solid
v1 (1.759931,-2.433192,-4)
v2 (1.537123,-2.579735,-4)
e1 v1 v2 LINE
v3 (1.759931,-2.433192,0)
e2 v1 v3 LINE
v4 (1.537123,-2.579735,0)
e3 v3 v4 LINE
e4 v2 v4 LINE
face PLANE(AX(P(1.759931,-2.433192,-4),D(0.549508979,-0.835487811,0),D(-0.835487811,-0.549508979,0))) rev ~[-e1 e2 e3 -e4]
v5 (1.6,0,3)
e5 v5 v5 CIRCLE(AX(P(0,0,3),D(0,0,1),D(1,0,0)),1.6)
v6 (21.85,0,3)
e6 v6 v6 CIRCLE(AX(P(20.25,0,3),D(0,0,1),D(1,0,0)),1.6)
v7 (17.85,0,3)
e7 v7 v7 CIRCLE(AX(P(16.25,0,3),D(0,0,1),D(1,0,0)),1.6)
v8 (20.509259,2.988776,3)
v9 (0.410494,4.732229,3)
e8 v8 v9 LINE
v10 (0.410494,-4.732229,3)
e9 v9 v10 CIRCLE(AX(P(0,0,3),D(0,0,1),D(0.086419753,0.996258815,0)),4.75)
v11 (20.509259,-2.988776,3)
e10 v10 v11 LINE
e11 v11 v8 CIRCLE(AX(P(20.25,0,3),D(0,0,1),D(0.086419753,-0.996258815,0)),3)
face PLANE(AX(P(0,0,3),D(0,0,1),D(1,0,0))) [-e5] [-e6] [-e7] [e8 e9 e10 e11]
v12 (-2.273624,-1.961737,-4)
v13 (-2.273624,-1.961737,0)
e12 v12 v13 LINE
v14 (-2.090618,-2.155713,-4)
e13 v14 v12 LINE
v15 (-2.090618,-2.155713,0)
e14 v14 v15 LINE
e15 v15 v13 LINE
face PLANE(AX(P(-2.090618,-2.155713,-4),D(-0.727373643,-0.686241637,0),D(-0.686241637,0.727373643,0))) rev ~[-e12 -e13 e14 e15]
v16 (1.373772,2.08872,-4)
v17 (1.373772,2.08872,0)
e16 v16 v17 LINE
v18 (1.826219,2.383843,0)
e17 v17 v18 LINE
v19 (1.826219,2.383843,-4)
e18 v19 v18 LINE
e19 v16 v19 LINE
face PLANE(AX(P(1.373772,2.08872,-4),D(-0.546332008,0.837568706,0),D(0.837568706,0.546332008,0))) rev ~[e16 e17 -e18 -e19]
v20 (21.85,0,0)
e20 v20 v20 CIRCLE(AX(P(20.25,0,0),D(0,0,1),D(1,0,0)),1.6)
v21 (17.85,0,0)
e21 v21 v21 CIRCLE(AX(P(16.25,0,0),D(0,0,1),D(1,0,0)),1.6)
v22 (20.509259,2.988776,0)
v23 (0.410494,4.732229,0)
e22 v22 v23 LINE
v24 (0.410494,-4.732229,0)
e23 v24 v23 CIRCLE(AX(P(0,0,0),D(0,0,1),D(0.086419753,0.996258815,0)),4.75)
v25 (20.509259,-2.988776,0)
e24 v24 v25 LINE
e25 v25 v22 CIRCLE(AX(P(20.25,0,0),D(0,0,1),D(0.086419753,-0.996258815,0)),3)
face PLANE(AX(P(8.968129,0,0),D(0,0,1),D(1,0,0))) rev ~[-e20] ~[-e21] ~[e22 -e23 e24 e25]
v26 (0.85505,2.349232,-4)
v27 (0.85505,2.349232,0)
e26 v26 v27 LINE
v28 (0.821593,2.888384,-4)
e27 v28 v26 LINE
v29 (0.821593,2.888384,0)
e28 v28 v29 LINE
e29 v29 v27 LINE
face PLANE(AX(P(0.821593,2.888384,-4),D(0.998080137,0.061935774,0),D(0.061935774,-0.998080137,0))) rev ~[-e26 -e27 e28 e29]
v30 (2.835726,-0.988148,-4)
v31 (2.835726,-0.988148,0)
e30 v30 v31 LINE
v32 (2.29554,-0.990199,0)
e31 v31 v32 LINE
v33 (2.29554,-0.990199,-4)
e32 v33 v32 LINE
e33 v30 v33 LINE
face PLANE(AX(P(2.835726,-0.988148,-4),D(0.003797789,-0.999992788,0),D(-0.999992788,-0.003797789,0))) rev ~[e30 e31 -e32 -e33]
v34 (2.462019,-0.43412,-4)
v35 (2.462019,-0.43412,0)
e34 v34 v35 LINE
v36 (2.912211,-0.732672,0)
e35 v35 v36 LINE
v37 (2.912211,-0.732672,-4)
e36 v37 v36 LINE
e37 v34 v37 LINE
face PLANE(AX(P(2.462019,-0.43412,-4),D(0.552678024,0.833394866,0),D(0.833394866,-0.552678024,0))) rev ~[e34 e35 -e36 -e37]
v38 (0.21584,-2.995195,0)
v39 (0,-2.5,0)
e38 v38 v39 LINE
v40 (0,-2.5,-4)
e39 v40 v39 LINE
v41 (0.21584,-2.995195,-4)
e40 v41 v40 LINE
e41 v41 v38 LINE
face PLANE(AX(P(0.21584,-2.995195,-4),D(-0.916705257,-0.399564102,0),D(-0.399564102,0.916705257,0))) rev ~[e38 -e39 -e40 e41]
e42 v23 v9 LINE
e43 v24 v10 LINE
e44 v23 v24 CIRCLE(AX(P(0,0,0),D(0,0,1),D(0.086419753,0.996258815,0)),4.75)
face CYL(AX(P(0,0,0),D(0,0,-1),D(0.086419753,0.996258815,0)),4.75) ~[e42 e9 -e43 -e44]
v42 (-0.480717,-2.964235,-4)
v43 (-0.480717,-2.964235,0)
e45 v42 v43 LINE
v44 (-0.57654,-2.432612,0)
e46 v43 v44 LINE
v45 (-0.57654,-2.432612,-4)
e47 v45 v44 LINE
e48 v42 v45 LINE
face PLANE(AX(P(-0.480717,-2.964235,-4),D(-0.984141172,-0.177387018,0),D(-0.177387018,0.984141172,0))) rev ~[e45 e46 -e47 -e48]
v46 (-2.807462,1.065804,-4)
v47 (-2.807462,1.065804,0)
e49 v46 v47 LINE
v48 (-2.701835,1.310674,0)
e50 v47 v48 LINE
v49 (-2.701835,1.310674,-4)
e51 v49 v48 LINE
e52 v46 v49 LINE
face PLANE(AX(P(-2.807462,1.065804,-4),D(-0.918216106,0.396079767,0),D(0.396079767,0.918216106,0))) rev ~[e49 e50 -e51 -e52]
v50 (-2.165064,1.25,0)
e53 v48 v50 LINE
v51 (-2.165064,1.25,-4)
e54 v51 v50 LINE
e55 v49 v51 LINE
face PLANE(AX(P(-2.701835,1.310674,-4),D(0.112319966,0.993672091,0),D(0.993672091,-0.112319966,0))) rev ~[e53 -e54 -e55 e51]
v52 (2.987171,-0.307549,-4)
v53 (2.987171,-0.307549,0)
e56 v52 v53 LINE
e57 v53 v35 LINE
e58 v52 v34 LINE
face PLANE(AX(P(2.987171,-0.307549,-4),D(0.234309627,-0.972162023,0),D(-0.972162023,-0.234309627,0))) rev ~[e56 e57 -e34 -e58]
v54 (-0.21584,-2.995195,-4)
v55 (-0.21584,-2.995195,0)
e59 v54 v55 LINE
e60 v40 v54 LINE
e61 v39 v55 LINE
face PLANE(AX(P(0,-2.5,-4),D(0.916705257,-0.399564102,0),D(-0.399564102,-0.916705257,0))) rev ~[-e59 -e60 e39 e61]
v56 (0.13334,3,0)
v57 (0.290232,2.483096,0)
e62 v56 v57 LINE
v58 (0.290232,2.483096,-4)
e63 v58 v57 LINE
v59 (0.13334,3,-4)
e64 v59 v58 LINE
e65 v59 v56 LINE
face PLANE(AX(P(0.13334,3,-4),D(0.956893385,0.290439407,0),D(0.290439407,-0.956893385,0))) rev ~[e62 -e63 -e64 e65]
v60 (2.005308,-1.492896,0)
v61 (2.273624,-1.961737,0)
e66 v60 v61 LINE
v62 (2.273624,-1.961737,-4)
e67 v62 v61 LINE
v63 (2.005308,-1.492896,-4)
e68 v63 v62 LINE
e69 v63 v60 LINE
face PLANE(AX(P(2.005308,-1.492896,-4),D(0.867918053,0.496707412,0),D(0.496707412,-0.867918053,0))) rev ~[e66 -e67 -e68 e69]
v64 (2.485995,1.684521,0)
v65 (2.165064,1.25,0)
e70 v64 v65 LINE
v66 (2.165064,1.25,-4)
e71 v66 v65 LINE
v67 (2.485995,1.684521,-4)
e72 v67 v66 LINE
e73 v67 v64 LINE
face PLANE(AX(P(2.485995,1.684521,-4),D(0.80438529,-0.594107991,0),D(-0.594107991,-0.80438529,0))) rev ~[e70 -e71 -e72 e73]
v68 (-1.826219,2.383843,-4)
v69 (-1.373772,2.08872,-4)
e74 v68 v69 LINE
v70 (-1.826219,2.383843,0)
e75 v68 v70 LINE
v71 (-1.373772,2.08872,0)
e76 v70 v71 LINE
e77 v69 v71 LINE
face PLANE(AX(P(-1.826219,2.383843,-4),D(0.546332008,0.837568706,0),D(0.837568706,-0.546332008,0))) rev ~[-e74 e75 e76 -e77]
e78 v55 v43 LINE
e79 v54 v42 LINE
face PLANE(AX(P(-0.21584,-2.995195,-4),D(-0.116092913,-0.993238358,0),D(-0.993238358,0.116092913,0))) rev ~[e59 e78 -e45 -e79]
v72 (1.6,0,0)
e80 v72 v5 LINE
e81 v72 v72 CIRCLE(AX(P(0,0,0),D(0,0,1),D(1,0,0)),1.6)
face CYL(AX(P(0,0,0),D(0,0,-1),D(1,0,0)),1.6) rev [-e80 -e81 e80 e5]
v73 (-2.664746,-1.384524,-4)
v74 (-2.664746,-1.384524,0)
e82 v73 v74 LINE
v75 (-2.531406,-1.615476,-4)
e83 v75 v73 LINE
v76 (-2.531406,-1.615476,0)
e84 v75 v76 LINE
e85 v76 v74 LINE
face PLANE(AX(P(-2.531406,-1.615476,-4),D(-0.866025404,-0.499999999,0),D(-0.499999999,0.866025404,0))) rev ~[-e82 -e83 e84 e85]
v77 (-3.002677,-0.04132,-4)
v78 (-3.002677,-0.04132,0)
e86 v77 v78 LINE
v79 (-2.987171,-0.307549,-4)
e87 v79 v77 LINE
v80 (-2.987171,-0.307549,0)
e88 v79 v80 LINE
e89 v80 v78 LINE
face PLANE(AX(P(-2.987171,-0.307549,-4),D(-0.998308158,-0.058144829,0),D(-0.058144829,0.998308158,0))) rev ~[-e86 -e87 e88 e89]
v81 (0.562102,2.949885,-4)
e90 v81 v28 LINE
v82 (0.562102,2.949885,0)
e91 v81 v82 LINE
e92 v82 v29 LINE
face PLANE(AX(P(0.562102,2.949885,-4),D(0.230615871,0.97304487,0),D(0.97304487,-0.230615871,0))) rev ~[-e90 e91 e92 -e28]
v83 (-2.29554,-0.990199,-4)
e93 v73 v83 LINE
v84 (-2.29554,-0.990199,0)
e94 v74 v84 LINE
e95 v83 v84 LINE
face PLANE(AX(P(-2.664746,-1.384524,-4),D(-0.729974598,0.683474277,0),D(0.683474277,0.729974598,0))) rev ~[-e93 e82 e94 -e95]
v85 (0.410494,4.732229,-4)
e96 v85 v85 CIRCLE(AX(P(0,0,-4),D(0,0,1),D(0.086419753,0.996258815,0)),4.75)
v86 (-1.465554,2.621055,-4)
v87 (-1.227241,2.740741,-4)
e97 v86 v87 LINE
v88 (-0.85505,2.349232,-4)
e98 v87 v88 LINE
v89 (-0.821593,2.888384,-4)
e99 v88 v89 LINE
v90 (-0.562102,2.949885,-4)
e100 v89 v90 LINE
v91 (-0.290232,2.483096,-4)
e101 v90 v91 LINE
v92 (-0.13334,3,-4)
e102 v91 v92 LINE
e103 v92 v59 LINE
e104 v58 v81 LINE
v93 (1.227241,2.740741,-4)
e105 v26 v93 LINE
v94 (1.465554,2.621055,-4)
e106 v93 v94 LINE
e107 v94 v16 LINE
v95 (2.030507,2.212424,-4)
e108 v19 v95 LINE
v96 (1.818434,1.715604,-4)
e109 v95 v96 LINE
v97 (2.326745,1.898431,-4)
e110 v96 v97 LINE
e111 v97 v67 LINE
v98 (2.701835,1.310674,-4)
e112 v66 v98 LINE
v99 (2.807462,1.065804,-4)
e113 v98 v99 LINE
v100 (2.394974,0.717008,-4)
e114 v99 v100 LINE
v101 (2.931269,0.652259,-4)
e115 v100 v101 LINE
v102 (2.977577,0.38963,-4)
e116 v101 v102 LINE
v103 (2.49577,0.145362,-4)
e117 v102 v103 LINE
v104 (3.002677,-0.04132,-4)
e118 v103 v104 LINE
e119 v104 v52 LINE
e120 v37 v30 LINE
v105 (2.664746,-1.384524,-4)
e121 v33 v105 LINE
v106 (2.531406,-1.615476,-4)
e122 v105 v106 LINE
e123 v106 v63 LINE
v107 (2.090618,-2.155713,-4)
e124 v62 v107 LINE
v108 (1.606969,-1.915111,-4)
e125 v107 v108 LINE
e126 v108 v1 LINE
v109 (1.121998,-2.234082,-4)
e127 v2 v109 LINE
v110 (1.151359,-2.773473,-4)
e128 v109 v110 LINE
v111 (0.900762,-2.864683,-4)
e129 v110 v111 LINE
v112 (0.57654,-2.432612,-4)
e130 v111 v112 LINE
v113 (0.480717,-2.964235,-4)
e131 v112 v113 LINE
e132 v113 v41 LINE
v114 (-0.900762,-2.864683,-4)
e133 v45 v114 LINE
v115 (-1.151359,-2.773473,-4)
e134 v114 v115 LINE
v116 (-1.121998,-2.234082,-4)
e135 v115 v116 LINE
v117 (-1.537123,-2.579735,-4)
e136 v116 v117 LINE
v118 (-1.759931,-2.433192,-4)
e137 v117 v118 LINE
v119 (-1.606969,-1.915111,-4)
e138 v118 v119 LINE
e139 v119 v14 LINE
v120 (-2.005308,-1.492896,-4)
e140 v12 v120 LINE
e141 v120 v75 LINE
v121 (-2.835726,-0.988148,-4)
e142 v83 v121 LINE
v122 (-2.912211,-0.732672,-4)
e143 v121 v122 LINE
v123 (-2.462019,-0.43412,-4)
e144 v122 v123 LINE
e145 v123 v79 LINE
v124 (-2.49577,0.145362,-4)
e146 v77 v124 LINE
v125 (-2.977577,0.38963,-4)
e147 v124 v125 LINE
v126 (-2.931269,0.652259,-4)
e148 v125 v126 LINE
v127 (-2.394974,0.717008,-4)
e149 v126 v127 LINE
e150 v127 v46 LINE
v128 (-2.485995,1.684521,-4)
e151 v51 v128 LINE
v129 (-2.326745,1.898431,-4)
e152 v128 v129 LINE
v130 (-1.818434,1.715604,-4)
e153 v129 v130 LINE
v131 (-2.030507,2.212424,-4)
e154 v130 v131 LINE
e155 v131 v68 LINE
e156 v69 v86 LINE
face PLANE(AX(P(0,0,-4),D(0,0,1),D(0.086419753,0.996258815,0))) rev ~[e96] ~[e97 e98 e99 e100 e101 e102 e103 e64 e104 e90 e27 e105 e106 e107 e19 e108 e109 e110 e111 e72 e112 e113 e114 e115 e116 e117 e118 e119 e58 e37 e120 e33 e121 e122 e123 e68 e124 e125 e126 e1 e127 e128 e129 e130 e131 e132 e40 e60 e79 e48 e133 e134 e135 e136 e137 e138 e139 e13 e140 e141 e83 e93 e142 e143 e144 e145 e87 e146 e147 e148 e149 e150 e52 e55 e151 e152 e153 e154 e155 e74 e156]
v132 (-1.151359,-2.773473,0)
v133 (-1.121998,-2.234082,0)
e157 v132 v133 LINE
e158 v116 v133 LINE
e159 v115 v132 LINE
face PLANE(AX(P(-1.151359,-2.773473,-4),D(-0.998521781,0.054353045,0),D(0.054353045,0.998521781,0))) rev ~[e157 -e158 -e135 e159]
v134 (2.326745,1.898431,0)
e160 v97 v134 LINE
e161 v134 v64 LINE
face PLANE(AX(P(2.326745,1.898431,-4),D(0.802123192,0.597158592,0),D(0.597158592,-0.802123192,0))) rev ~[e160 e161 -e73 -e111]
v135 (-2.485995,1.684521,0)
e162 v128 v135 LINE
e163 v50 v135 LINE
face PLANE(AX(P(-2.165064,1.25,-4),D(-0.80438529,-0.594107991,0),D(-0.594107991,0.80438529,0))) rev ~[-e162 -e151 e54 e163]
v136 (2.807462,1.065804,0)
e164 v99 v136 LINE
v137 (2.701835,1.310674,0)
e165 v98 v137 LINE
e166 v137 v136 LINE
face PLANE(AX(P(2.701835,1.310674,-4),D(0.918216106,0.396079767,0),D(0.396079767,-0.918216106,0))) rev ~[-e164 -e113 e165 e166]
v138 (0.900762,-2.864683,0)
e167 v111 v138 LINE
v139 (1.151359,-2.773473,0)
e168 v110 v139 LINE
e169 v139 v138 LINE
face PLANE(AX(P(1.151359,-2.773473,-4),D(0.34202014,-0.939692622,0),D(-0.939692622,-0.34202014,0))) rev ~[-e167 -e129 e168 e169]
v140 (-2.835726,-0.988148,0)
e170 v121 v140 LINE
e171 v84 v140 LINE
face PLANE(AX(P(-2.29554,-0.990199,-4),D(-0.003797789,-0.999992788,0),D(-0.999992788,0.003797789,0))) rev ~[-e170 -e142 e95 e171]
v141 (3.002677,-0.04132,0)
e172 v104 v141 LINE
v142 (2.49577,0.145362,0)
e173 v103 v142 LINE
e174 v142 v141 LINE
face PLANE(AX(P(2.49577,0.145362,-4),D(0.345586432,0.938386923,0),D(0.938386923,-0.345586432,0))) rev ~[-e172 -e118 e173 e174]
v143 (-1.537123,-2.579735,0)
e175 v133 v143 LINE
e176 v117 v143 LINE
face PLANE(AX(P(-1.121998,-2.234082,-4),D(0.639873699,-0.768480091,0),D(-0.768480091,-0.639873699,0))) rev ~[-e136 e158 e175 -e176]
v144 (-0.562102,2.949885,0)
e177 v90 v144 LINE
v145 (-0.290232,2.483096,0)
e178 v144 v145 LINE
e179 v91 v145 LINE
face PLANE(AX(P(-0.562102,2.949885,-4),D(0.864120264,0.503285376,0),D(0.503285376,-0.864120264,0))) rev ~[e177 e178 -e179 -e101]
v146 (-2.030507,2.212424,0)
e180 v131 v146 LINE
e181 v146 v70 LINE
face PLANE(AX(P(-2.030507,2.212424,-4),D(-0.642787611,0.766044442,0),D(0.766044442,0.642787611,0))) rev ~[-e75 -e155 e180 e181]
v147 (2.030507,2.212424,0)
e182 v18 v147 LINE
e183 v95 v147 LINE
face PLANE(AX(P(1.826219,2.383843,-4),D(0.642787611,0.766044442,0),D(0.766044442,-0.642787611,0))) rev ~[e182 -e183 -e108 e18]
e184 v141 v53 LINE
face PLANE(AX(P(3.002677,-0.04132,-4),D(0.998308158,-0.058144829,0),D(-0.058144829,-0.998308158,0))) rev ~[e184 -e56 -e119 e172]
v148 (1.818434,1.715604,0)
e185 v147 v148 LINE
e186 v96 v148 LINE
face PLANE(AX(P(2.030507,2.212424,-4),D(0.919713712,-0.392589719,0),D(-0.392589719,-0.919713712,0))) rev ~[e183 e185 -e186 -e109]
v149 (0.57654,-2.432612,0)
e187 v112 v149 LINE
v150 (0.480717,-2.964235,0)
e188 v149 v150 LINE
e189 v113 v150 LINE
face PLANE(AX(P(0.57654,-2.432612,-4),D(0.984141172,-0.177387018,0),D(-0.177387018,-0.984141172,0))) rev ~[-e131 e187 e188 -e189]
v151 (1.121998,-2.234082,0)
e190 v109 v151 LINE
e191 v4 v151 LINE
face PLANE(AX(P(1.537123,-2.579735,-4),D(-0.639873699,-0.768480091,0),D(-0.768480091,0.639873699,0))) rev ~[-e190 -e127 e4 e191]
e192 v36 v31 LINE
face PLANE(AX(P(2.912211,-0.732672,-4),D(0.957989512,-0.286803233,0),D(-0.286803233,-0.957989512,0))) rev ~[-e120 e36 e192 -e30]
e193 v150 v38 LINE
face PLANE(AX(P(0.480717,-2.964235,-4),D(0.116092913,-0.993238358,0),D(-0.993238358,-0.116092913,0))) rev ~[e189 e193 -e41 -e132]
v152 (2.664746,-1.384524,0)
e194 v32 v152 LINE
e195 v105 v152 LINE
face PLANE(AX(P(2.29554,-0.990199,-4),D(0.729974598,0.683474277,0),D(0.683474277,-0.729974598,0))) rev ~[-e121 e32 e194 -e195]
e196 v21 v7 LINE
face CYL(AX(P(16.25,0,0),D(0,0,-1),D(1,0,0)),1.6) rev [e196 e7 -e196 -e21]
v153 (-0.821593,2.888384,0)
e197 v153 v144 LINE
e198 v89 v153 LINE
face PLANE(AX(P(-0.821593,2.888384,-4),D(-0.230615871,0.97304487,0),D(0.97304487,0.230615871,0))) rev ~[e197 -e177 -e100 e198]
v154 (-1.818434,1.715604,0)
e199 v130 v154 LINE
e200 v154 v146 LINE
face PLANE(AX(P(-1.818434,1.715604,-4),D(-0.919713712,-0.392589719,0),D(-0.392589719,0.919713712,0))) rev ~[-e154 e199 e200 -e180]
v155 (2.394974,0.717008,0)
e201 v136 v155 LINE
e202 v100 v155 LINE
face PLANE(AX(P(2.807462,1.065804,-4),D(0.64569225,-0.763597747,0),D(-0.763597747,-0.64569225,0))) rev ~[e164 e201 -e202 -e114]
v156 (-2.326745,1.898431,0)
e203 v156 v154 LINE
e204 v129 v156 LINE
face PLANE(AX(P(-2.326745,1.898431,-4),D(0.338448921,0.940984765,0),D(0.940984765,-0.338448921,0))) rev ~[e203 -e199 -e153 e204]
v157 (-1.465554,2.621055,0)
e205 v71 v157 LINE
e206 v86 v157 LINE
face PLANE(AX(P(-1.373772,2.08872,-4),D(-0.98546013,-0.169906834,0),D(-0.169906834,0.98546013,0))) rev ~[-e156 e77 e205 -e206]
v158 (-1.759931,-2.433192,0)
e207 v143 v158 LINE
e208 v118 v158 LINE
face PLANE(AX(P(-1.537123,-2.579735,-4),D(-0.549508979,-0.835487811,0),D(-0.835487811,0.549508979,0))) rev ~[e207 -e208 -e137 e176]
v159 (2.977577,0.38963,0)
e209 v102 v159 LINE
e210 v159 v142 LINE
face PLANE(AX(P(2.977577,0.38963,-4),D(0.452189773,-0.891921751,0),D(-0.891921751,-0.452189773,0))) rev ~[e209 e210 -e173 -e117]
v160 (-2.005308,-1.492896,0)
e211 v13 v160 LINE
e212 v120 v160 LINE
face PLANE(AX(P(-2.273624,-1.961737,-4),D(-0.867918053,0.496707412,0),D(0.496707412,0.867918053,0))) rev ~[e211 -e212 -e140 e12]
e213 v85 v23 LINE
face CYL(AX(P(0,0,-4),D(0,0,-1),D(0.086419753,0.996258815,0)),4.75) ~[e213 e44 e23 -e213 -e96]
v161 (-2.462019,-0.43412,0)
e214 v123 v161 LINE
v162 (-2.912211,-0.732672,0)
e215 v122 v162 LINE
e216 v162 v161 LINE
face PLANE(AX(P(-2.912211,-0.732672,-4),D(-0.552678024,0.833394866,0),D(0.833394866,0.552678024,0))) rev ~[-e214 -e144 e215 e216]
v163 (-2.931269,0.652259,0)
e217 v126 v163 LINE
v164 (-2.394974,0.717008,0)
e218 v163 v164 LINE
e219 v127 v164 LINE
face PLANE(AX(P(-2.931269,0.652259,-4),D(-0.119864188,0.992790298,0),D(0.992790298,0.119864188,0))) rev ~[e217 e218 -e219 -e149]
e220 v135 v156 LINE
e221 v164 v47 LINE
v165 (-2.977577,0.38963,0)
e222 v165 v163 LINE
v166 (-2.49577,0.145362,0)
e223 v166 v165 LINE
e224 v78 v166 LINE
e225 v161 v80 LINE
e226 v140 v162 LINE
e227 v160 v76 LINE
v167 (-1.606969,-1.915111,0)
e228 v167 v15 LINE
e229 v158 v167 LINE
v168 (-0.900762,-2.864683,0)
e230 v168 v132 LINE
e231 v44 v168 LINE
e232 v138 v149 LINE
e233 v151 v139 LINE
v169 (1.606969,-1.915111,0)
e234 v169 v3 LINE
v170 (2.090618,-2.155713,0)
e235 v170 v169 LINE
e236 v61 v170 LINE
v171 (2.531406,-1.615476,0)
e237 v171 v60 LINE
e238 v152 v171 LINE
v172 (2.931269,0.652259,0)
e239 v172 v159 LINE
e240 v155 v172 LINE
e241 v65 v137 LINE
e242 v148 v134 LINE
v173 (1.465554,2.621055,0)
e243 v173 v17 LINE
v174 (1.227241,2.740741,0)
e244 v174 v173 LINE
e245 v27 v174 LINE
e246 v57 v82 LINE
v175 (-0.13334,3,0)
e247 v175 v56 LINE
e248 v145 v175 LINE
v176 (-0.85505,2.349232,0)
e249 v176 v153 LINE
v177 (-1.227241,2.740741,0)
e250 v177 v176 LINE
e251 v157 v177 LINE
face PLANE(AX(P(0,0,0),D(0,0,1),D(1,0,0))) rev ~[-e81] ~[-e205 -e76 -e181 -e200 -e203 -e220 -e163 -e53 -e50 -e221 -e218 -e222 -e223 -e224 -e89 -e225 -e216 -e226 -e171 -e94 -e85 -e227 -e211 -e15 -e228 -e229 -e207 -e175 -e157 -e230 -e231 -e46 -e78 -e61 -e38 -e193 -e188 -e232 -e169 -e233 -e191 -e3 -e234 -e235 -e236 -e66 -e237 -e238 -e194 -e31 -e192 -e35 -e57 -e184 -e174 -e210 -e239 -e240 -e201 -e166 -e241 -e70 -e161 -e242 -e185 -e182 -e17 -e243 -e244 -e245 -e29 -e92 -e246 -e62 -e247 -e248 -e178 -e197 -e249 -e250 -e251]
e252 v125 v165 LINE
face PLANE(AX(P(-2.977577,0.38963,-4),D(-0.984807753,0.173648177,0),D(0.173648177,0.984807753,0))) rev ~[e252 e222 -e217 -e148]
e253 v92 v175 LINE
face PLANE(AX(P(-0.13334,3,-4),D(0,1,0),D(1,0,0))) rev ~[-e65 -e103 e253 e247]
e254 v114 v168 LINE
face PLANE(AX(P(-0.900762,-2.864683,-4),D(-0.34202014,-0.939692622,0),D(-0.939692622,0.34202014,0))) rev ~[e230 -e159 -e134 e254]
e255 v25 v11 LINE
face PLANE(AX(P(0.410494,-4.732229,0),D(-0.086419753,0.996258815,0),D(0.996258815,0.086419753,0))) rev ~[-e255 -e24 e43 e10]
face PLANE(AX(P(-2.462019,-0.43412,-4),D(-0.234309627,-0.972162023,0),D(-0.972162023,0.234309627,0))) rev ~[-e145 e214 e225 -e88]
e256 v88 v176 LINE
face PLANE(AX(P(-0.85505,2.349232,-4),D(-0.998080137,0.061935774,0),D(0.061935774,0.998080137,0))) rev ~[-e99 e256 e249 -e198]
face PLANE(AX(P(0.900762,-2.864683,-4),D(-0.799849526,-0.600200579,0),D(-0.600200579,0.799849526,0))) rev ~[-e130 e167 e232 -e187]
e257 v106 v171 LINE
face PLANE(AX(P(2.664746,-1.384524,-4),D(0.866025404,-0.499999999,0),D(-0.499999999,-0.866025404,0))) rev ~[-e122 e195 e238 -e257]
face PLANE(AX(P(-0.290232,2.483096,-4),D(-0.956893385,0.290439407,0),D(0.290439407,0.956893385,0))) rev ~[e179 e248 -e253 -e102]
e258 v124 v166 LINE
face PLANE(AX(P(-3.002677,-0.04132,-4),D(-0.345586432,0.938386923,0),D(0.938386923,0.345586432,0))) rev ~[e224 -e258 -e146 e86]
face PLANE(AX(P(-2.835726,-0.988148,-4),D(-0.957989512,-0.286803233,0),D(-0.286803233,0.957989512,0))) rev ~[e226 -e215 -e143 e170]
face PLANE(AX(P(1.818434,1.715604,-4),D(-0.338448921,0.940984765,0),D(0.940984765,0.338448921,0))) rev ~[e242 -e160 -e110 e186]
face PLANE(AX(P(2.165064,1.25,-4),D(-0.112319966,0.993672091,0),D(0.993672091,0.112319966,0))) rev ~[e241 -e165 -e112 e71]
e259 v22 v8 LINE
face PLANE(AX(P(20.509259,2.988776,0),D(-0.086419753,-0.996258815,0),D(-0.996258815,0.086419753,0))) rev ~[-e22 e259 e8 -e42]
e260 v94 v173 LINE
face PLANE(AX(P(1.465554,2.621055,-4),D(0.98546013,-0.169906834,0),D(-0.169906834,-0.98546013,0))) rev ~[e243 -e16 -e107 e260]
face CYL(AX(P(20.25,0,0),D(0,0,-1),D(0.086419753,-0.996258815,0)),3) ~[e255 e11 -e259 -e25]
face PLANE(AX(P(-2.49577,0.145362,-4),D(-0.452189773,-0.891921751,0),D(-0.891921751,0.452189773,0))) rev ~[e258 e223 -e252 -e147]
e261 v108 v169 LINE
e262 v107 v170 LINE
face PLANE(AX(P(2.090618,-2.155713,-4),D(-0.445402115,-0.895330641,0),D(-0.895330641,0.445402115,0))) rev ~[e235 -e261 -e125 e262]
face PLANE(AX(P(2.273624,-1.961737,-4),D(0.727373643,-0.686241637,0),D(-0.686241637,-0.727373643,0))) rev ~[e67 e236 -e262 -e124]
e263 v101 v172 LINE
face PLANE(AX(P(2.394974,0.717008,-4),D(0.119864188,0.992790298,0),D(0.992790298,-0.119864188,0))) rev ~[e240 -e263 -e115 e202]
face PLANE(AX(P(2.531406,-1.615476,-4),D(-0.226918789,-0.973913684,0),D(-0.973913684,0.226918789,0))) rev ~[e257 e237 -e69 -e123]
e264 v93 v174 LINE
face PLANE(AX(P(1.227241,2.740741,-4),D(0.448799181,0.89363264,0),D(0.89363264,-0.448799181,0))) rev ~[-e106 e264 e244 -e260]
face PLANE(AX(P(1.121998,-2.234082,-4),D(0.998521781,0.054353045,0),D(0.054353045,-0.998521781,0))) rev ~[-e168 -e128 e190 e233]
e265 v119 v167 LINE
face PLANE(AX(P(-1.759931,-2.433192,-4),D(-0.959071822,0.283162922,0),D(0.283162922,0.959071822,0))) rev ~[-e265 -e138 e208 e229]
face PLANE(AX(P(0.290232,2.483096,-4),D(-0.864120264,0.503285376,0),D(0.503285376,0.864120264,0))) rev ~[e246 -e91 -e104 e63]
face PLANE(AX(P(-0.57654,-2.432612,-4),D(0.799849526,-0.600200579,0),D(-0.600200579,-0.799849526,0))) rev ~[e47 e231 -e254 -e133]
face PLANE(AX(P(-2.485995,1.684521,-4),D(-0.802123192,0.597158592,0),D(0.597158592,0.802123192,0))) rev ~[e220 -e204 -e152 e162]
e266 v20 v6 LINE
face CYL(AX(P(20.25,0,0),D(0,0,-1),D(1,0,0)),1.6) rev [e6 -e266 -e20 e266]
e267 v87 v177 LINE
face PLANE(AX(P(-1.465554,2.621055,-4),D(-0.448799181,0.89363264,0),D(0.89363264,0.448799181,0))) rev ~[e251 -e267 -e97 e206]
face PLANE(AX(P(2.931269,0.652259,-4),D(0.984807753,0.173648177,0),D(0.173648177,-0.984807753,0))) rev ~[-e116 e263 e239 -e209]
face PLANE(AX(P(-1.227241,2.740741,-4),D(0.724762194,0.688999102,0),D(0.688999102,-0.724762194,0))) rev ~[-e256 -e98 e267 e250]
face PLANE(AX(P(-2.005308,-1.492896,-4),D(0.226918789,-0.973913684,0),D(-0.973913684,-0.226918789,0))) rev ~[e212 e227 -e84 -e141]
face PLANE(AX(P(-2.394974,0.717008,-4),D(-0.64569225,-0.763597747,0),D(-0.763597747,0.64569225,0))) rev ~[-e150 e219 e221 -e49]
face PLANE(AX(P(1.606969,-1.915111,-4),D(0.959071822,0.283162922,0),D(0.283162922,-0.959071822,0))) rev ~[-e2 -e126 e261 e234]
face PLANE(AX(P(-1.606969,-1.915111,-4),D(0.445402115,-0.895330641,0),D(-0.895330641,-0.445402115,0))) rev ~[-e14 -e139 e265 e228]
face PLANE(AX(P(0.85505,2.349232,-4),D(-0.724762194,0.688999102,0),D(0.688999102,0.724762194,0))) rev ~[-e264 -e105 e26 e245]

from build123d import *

# Parameters (mm, degrees)
SKETCH1_R           = 1.6
SKETCH1_R_2         = 2.5
BOSS_EXTRUDE1_DEPTH = 3
BOSS_EXTRUDE2_START = -4
SKETCH1_3_R         = 4.75
SKETCH1_3_R_2       = 2.5
BOSS_EXTRUDE2_DEPTH = 4
CUT_EXTRUDE1_DEPTH  = 4
BOSS_EXTRUDE3_START = -3
SKETCH3_R           = 2.5
SKETCH3_R_2         = 1.6
BOSS_EXTRUDE3_DEPTH = 3


with BuildPart() as part:
    # Sketch1 → Boss-Extrude1 (new body)
    with BuildSketch(Plane.XY):
        with BuildLine():
            Line((20.509259259, 2.988776445), (0.410493827, 4.732229371))
            ThreePointArc((0.410493827, 4.732229371), (-4.75, 0), (0.410493827, -4.732229371))
            Line((0.410493827, -4.732229371), (20.509259259, -2.988776445))
            ThreePointArc((20.509259259, -2.988776445), (23.25, 0), (20.509259259, 2.988776445))
        make_face()
        with Locations((16.25, 0)):
            Circle(SKETCH1_R, mode=Mode.SUBTRACT)
        Circle(SKETCH1_R_2, mode=Mode.SUBTRACT)
        with Locations((20.25, 0)):
            Circle(SKETCH1_R, mode=Mode.SUBTRACT)
    extrude(amount=BOSS_EXTRUDE1_DEPTH)

    # Sketch1<3> → Boss-Extrude2 (add)
    with BuildSketch(Plane.XY.offset(BOSS_EXTRUDE2_START)):
        with Locations(Location((0, 0, 0), (0, 0, 85.042328816))):
            Circle(SKETCH1_3_R)
        Circle(SKETCH1_3_R_2, mode=Mode.SUBTRACT)
    extrude(amount=BOSS_EXTRUDE2_DEPTH)

    # Sketch2 → Cut-Extrude1 (cut)
    with BuildSketch(Plane(origin=(0, 0, -4), x_dir=(-1, 0, 0), z_dir=(0, 0, -1))):
        Polygon((-0.133339862, 3), (-0.290232285, 2.483095894), (-0.562101943, 2.9498849), (-0.821593281, 2.888384323), (-0.855050358, 2.349231552), (-1.227240688, 2.740740742), (-1.465554394, 2.6210551), (-1.373772445, 2.088719529), (-1.826218569, 2.383842541), (-2.03050709, 2.212424118), (-1.818434104, 1.715604095), (-2.326744534, 1.898430771), (-2.485994623, 1.684520779), (-2.165063509, 1.25), (-2.701835099, 1.310674107), (-2.807461542, 1.065804489), (-2.394973781, 0.717008082), (-2.931269035, 0.652258663), (-2.977577483, 0.389630403), (-2.495770396, 0.145362072), (-3.002677498, -0.041320215), (-2.987171451, -0.307548759), (-2.462019383, -0.434120444), (-2.91221084, -0.732671509), (-2.835726233, -0.988147888), (-2.295540267, -0.990199415), (-2.664746142, -1.384524292), (-2.53140628, -1.615475708), (-2.005307982, -1.492896479), (-2.27362429, -1.961737012), (-2.090617559, -2.155712815), (-1.606969024, -1.915111108), (-1.759930764, -2.433191983), (-1.537123105, -2.579734886), (-1.121997951, -2.234081601), (-1.151358915, -2.773472944), (-0.900761945, -2.864682781), (-0.576539677, -2.432612176), (-0.480717008, -2.96423526), (-0.215840477, -2.995194886), (0, -2.5), (0.215840477, -2.995194886), (0.480717008, -2.96423526), (0.576539677, -2.432612176), (0.900761945, -2.864682781), (1.151358915, -2.773472944), (1.121997951, -2.234081601), (1.537123105, -2.579734886), (1.759930764, -2.433191983), (1.606969024, -1.915111108), (2.090617559, -2.155712815), (2.27362429, -1.961737012), (2.005307982, -1.492896479), (2.53140628, -1.615475708), (2.664746142, -1.384524292), (2.295540267, -0.990199415), (2.835726233, -0.988147888), (2.91221084, -0.732671509), (2.462019383, -0.434120444), (2.987171451, -0.307548759), (3.002677498, -0.041320215), (2.495770396, 0.145362072), (2.977577483, 0.389630403), (2.931269035, 0.652258663), (2.394973781, 0.717008082), (2.807461542, 1.065804489), (2.701835099, 1.310674107), (2.165063509, 1.25), (2.485994623, 1.684520779), (2.326744534, 1.898430771), (1.818434104, 1.715604095), (2.03050709, 2.212424118), (1.826218569, 2.383842541), (1.373772445, 2.088719529), (1.465554394, 2.6210551), (1.227240688, 2.740740742), (0.855050358, 2.349231552), (0.821593281, 2.888384323), (0.562101943, 2.9498849), (0.290232285, 2.483095894), (0.133339862, 3), align=None)
    extrude(amount=-CUT_EXTRUDE1_DEPTH, mode=Mode.SUBTRACT)

    # Sketch3 → Boss-Extrude3 (add)
    with BuildSketch(Plane.XY.offset(3).offset(BOSS_EXTRUDE3_START)):
        Circle(SKETCH3_R)
        Circle(SKETCH3_R_2, mode=Mode.SUBTRACT)
    extrude(amount=BOSS_EXTRUDE3_DEPTH)


solid = part.part
